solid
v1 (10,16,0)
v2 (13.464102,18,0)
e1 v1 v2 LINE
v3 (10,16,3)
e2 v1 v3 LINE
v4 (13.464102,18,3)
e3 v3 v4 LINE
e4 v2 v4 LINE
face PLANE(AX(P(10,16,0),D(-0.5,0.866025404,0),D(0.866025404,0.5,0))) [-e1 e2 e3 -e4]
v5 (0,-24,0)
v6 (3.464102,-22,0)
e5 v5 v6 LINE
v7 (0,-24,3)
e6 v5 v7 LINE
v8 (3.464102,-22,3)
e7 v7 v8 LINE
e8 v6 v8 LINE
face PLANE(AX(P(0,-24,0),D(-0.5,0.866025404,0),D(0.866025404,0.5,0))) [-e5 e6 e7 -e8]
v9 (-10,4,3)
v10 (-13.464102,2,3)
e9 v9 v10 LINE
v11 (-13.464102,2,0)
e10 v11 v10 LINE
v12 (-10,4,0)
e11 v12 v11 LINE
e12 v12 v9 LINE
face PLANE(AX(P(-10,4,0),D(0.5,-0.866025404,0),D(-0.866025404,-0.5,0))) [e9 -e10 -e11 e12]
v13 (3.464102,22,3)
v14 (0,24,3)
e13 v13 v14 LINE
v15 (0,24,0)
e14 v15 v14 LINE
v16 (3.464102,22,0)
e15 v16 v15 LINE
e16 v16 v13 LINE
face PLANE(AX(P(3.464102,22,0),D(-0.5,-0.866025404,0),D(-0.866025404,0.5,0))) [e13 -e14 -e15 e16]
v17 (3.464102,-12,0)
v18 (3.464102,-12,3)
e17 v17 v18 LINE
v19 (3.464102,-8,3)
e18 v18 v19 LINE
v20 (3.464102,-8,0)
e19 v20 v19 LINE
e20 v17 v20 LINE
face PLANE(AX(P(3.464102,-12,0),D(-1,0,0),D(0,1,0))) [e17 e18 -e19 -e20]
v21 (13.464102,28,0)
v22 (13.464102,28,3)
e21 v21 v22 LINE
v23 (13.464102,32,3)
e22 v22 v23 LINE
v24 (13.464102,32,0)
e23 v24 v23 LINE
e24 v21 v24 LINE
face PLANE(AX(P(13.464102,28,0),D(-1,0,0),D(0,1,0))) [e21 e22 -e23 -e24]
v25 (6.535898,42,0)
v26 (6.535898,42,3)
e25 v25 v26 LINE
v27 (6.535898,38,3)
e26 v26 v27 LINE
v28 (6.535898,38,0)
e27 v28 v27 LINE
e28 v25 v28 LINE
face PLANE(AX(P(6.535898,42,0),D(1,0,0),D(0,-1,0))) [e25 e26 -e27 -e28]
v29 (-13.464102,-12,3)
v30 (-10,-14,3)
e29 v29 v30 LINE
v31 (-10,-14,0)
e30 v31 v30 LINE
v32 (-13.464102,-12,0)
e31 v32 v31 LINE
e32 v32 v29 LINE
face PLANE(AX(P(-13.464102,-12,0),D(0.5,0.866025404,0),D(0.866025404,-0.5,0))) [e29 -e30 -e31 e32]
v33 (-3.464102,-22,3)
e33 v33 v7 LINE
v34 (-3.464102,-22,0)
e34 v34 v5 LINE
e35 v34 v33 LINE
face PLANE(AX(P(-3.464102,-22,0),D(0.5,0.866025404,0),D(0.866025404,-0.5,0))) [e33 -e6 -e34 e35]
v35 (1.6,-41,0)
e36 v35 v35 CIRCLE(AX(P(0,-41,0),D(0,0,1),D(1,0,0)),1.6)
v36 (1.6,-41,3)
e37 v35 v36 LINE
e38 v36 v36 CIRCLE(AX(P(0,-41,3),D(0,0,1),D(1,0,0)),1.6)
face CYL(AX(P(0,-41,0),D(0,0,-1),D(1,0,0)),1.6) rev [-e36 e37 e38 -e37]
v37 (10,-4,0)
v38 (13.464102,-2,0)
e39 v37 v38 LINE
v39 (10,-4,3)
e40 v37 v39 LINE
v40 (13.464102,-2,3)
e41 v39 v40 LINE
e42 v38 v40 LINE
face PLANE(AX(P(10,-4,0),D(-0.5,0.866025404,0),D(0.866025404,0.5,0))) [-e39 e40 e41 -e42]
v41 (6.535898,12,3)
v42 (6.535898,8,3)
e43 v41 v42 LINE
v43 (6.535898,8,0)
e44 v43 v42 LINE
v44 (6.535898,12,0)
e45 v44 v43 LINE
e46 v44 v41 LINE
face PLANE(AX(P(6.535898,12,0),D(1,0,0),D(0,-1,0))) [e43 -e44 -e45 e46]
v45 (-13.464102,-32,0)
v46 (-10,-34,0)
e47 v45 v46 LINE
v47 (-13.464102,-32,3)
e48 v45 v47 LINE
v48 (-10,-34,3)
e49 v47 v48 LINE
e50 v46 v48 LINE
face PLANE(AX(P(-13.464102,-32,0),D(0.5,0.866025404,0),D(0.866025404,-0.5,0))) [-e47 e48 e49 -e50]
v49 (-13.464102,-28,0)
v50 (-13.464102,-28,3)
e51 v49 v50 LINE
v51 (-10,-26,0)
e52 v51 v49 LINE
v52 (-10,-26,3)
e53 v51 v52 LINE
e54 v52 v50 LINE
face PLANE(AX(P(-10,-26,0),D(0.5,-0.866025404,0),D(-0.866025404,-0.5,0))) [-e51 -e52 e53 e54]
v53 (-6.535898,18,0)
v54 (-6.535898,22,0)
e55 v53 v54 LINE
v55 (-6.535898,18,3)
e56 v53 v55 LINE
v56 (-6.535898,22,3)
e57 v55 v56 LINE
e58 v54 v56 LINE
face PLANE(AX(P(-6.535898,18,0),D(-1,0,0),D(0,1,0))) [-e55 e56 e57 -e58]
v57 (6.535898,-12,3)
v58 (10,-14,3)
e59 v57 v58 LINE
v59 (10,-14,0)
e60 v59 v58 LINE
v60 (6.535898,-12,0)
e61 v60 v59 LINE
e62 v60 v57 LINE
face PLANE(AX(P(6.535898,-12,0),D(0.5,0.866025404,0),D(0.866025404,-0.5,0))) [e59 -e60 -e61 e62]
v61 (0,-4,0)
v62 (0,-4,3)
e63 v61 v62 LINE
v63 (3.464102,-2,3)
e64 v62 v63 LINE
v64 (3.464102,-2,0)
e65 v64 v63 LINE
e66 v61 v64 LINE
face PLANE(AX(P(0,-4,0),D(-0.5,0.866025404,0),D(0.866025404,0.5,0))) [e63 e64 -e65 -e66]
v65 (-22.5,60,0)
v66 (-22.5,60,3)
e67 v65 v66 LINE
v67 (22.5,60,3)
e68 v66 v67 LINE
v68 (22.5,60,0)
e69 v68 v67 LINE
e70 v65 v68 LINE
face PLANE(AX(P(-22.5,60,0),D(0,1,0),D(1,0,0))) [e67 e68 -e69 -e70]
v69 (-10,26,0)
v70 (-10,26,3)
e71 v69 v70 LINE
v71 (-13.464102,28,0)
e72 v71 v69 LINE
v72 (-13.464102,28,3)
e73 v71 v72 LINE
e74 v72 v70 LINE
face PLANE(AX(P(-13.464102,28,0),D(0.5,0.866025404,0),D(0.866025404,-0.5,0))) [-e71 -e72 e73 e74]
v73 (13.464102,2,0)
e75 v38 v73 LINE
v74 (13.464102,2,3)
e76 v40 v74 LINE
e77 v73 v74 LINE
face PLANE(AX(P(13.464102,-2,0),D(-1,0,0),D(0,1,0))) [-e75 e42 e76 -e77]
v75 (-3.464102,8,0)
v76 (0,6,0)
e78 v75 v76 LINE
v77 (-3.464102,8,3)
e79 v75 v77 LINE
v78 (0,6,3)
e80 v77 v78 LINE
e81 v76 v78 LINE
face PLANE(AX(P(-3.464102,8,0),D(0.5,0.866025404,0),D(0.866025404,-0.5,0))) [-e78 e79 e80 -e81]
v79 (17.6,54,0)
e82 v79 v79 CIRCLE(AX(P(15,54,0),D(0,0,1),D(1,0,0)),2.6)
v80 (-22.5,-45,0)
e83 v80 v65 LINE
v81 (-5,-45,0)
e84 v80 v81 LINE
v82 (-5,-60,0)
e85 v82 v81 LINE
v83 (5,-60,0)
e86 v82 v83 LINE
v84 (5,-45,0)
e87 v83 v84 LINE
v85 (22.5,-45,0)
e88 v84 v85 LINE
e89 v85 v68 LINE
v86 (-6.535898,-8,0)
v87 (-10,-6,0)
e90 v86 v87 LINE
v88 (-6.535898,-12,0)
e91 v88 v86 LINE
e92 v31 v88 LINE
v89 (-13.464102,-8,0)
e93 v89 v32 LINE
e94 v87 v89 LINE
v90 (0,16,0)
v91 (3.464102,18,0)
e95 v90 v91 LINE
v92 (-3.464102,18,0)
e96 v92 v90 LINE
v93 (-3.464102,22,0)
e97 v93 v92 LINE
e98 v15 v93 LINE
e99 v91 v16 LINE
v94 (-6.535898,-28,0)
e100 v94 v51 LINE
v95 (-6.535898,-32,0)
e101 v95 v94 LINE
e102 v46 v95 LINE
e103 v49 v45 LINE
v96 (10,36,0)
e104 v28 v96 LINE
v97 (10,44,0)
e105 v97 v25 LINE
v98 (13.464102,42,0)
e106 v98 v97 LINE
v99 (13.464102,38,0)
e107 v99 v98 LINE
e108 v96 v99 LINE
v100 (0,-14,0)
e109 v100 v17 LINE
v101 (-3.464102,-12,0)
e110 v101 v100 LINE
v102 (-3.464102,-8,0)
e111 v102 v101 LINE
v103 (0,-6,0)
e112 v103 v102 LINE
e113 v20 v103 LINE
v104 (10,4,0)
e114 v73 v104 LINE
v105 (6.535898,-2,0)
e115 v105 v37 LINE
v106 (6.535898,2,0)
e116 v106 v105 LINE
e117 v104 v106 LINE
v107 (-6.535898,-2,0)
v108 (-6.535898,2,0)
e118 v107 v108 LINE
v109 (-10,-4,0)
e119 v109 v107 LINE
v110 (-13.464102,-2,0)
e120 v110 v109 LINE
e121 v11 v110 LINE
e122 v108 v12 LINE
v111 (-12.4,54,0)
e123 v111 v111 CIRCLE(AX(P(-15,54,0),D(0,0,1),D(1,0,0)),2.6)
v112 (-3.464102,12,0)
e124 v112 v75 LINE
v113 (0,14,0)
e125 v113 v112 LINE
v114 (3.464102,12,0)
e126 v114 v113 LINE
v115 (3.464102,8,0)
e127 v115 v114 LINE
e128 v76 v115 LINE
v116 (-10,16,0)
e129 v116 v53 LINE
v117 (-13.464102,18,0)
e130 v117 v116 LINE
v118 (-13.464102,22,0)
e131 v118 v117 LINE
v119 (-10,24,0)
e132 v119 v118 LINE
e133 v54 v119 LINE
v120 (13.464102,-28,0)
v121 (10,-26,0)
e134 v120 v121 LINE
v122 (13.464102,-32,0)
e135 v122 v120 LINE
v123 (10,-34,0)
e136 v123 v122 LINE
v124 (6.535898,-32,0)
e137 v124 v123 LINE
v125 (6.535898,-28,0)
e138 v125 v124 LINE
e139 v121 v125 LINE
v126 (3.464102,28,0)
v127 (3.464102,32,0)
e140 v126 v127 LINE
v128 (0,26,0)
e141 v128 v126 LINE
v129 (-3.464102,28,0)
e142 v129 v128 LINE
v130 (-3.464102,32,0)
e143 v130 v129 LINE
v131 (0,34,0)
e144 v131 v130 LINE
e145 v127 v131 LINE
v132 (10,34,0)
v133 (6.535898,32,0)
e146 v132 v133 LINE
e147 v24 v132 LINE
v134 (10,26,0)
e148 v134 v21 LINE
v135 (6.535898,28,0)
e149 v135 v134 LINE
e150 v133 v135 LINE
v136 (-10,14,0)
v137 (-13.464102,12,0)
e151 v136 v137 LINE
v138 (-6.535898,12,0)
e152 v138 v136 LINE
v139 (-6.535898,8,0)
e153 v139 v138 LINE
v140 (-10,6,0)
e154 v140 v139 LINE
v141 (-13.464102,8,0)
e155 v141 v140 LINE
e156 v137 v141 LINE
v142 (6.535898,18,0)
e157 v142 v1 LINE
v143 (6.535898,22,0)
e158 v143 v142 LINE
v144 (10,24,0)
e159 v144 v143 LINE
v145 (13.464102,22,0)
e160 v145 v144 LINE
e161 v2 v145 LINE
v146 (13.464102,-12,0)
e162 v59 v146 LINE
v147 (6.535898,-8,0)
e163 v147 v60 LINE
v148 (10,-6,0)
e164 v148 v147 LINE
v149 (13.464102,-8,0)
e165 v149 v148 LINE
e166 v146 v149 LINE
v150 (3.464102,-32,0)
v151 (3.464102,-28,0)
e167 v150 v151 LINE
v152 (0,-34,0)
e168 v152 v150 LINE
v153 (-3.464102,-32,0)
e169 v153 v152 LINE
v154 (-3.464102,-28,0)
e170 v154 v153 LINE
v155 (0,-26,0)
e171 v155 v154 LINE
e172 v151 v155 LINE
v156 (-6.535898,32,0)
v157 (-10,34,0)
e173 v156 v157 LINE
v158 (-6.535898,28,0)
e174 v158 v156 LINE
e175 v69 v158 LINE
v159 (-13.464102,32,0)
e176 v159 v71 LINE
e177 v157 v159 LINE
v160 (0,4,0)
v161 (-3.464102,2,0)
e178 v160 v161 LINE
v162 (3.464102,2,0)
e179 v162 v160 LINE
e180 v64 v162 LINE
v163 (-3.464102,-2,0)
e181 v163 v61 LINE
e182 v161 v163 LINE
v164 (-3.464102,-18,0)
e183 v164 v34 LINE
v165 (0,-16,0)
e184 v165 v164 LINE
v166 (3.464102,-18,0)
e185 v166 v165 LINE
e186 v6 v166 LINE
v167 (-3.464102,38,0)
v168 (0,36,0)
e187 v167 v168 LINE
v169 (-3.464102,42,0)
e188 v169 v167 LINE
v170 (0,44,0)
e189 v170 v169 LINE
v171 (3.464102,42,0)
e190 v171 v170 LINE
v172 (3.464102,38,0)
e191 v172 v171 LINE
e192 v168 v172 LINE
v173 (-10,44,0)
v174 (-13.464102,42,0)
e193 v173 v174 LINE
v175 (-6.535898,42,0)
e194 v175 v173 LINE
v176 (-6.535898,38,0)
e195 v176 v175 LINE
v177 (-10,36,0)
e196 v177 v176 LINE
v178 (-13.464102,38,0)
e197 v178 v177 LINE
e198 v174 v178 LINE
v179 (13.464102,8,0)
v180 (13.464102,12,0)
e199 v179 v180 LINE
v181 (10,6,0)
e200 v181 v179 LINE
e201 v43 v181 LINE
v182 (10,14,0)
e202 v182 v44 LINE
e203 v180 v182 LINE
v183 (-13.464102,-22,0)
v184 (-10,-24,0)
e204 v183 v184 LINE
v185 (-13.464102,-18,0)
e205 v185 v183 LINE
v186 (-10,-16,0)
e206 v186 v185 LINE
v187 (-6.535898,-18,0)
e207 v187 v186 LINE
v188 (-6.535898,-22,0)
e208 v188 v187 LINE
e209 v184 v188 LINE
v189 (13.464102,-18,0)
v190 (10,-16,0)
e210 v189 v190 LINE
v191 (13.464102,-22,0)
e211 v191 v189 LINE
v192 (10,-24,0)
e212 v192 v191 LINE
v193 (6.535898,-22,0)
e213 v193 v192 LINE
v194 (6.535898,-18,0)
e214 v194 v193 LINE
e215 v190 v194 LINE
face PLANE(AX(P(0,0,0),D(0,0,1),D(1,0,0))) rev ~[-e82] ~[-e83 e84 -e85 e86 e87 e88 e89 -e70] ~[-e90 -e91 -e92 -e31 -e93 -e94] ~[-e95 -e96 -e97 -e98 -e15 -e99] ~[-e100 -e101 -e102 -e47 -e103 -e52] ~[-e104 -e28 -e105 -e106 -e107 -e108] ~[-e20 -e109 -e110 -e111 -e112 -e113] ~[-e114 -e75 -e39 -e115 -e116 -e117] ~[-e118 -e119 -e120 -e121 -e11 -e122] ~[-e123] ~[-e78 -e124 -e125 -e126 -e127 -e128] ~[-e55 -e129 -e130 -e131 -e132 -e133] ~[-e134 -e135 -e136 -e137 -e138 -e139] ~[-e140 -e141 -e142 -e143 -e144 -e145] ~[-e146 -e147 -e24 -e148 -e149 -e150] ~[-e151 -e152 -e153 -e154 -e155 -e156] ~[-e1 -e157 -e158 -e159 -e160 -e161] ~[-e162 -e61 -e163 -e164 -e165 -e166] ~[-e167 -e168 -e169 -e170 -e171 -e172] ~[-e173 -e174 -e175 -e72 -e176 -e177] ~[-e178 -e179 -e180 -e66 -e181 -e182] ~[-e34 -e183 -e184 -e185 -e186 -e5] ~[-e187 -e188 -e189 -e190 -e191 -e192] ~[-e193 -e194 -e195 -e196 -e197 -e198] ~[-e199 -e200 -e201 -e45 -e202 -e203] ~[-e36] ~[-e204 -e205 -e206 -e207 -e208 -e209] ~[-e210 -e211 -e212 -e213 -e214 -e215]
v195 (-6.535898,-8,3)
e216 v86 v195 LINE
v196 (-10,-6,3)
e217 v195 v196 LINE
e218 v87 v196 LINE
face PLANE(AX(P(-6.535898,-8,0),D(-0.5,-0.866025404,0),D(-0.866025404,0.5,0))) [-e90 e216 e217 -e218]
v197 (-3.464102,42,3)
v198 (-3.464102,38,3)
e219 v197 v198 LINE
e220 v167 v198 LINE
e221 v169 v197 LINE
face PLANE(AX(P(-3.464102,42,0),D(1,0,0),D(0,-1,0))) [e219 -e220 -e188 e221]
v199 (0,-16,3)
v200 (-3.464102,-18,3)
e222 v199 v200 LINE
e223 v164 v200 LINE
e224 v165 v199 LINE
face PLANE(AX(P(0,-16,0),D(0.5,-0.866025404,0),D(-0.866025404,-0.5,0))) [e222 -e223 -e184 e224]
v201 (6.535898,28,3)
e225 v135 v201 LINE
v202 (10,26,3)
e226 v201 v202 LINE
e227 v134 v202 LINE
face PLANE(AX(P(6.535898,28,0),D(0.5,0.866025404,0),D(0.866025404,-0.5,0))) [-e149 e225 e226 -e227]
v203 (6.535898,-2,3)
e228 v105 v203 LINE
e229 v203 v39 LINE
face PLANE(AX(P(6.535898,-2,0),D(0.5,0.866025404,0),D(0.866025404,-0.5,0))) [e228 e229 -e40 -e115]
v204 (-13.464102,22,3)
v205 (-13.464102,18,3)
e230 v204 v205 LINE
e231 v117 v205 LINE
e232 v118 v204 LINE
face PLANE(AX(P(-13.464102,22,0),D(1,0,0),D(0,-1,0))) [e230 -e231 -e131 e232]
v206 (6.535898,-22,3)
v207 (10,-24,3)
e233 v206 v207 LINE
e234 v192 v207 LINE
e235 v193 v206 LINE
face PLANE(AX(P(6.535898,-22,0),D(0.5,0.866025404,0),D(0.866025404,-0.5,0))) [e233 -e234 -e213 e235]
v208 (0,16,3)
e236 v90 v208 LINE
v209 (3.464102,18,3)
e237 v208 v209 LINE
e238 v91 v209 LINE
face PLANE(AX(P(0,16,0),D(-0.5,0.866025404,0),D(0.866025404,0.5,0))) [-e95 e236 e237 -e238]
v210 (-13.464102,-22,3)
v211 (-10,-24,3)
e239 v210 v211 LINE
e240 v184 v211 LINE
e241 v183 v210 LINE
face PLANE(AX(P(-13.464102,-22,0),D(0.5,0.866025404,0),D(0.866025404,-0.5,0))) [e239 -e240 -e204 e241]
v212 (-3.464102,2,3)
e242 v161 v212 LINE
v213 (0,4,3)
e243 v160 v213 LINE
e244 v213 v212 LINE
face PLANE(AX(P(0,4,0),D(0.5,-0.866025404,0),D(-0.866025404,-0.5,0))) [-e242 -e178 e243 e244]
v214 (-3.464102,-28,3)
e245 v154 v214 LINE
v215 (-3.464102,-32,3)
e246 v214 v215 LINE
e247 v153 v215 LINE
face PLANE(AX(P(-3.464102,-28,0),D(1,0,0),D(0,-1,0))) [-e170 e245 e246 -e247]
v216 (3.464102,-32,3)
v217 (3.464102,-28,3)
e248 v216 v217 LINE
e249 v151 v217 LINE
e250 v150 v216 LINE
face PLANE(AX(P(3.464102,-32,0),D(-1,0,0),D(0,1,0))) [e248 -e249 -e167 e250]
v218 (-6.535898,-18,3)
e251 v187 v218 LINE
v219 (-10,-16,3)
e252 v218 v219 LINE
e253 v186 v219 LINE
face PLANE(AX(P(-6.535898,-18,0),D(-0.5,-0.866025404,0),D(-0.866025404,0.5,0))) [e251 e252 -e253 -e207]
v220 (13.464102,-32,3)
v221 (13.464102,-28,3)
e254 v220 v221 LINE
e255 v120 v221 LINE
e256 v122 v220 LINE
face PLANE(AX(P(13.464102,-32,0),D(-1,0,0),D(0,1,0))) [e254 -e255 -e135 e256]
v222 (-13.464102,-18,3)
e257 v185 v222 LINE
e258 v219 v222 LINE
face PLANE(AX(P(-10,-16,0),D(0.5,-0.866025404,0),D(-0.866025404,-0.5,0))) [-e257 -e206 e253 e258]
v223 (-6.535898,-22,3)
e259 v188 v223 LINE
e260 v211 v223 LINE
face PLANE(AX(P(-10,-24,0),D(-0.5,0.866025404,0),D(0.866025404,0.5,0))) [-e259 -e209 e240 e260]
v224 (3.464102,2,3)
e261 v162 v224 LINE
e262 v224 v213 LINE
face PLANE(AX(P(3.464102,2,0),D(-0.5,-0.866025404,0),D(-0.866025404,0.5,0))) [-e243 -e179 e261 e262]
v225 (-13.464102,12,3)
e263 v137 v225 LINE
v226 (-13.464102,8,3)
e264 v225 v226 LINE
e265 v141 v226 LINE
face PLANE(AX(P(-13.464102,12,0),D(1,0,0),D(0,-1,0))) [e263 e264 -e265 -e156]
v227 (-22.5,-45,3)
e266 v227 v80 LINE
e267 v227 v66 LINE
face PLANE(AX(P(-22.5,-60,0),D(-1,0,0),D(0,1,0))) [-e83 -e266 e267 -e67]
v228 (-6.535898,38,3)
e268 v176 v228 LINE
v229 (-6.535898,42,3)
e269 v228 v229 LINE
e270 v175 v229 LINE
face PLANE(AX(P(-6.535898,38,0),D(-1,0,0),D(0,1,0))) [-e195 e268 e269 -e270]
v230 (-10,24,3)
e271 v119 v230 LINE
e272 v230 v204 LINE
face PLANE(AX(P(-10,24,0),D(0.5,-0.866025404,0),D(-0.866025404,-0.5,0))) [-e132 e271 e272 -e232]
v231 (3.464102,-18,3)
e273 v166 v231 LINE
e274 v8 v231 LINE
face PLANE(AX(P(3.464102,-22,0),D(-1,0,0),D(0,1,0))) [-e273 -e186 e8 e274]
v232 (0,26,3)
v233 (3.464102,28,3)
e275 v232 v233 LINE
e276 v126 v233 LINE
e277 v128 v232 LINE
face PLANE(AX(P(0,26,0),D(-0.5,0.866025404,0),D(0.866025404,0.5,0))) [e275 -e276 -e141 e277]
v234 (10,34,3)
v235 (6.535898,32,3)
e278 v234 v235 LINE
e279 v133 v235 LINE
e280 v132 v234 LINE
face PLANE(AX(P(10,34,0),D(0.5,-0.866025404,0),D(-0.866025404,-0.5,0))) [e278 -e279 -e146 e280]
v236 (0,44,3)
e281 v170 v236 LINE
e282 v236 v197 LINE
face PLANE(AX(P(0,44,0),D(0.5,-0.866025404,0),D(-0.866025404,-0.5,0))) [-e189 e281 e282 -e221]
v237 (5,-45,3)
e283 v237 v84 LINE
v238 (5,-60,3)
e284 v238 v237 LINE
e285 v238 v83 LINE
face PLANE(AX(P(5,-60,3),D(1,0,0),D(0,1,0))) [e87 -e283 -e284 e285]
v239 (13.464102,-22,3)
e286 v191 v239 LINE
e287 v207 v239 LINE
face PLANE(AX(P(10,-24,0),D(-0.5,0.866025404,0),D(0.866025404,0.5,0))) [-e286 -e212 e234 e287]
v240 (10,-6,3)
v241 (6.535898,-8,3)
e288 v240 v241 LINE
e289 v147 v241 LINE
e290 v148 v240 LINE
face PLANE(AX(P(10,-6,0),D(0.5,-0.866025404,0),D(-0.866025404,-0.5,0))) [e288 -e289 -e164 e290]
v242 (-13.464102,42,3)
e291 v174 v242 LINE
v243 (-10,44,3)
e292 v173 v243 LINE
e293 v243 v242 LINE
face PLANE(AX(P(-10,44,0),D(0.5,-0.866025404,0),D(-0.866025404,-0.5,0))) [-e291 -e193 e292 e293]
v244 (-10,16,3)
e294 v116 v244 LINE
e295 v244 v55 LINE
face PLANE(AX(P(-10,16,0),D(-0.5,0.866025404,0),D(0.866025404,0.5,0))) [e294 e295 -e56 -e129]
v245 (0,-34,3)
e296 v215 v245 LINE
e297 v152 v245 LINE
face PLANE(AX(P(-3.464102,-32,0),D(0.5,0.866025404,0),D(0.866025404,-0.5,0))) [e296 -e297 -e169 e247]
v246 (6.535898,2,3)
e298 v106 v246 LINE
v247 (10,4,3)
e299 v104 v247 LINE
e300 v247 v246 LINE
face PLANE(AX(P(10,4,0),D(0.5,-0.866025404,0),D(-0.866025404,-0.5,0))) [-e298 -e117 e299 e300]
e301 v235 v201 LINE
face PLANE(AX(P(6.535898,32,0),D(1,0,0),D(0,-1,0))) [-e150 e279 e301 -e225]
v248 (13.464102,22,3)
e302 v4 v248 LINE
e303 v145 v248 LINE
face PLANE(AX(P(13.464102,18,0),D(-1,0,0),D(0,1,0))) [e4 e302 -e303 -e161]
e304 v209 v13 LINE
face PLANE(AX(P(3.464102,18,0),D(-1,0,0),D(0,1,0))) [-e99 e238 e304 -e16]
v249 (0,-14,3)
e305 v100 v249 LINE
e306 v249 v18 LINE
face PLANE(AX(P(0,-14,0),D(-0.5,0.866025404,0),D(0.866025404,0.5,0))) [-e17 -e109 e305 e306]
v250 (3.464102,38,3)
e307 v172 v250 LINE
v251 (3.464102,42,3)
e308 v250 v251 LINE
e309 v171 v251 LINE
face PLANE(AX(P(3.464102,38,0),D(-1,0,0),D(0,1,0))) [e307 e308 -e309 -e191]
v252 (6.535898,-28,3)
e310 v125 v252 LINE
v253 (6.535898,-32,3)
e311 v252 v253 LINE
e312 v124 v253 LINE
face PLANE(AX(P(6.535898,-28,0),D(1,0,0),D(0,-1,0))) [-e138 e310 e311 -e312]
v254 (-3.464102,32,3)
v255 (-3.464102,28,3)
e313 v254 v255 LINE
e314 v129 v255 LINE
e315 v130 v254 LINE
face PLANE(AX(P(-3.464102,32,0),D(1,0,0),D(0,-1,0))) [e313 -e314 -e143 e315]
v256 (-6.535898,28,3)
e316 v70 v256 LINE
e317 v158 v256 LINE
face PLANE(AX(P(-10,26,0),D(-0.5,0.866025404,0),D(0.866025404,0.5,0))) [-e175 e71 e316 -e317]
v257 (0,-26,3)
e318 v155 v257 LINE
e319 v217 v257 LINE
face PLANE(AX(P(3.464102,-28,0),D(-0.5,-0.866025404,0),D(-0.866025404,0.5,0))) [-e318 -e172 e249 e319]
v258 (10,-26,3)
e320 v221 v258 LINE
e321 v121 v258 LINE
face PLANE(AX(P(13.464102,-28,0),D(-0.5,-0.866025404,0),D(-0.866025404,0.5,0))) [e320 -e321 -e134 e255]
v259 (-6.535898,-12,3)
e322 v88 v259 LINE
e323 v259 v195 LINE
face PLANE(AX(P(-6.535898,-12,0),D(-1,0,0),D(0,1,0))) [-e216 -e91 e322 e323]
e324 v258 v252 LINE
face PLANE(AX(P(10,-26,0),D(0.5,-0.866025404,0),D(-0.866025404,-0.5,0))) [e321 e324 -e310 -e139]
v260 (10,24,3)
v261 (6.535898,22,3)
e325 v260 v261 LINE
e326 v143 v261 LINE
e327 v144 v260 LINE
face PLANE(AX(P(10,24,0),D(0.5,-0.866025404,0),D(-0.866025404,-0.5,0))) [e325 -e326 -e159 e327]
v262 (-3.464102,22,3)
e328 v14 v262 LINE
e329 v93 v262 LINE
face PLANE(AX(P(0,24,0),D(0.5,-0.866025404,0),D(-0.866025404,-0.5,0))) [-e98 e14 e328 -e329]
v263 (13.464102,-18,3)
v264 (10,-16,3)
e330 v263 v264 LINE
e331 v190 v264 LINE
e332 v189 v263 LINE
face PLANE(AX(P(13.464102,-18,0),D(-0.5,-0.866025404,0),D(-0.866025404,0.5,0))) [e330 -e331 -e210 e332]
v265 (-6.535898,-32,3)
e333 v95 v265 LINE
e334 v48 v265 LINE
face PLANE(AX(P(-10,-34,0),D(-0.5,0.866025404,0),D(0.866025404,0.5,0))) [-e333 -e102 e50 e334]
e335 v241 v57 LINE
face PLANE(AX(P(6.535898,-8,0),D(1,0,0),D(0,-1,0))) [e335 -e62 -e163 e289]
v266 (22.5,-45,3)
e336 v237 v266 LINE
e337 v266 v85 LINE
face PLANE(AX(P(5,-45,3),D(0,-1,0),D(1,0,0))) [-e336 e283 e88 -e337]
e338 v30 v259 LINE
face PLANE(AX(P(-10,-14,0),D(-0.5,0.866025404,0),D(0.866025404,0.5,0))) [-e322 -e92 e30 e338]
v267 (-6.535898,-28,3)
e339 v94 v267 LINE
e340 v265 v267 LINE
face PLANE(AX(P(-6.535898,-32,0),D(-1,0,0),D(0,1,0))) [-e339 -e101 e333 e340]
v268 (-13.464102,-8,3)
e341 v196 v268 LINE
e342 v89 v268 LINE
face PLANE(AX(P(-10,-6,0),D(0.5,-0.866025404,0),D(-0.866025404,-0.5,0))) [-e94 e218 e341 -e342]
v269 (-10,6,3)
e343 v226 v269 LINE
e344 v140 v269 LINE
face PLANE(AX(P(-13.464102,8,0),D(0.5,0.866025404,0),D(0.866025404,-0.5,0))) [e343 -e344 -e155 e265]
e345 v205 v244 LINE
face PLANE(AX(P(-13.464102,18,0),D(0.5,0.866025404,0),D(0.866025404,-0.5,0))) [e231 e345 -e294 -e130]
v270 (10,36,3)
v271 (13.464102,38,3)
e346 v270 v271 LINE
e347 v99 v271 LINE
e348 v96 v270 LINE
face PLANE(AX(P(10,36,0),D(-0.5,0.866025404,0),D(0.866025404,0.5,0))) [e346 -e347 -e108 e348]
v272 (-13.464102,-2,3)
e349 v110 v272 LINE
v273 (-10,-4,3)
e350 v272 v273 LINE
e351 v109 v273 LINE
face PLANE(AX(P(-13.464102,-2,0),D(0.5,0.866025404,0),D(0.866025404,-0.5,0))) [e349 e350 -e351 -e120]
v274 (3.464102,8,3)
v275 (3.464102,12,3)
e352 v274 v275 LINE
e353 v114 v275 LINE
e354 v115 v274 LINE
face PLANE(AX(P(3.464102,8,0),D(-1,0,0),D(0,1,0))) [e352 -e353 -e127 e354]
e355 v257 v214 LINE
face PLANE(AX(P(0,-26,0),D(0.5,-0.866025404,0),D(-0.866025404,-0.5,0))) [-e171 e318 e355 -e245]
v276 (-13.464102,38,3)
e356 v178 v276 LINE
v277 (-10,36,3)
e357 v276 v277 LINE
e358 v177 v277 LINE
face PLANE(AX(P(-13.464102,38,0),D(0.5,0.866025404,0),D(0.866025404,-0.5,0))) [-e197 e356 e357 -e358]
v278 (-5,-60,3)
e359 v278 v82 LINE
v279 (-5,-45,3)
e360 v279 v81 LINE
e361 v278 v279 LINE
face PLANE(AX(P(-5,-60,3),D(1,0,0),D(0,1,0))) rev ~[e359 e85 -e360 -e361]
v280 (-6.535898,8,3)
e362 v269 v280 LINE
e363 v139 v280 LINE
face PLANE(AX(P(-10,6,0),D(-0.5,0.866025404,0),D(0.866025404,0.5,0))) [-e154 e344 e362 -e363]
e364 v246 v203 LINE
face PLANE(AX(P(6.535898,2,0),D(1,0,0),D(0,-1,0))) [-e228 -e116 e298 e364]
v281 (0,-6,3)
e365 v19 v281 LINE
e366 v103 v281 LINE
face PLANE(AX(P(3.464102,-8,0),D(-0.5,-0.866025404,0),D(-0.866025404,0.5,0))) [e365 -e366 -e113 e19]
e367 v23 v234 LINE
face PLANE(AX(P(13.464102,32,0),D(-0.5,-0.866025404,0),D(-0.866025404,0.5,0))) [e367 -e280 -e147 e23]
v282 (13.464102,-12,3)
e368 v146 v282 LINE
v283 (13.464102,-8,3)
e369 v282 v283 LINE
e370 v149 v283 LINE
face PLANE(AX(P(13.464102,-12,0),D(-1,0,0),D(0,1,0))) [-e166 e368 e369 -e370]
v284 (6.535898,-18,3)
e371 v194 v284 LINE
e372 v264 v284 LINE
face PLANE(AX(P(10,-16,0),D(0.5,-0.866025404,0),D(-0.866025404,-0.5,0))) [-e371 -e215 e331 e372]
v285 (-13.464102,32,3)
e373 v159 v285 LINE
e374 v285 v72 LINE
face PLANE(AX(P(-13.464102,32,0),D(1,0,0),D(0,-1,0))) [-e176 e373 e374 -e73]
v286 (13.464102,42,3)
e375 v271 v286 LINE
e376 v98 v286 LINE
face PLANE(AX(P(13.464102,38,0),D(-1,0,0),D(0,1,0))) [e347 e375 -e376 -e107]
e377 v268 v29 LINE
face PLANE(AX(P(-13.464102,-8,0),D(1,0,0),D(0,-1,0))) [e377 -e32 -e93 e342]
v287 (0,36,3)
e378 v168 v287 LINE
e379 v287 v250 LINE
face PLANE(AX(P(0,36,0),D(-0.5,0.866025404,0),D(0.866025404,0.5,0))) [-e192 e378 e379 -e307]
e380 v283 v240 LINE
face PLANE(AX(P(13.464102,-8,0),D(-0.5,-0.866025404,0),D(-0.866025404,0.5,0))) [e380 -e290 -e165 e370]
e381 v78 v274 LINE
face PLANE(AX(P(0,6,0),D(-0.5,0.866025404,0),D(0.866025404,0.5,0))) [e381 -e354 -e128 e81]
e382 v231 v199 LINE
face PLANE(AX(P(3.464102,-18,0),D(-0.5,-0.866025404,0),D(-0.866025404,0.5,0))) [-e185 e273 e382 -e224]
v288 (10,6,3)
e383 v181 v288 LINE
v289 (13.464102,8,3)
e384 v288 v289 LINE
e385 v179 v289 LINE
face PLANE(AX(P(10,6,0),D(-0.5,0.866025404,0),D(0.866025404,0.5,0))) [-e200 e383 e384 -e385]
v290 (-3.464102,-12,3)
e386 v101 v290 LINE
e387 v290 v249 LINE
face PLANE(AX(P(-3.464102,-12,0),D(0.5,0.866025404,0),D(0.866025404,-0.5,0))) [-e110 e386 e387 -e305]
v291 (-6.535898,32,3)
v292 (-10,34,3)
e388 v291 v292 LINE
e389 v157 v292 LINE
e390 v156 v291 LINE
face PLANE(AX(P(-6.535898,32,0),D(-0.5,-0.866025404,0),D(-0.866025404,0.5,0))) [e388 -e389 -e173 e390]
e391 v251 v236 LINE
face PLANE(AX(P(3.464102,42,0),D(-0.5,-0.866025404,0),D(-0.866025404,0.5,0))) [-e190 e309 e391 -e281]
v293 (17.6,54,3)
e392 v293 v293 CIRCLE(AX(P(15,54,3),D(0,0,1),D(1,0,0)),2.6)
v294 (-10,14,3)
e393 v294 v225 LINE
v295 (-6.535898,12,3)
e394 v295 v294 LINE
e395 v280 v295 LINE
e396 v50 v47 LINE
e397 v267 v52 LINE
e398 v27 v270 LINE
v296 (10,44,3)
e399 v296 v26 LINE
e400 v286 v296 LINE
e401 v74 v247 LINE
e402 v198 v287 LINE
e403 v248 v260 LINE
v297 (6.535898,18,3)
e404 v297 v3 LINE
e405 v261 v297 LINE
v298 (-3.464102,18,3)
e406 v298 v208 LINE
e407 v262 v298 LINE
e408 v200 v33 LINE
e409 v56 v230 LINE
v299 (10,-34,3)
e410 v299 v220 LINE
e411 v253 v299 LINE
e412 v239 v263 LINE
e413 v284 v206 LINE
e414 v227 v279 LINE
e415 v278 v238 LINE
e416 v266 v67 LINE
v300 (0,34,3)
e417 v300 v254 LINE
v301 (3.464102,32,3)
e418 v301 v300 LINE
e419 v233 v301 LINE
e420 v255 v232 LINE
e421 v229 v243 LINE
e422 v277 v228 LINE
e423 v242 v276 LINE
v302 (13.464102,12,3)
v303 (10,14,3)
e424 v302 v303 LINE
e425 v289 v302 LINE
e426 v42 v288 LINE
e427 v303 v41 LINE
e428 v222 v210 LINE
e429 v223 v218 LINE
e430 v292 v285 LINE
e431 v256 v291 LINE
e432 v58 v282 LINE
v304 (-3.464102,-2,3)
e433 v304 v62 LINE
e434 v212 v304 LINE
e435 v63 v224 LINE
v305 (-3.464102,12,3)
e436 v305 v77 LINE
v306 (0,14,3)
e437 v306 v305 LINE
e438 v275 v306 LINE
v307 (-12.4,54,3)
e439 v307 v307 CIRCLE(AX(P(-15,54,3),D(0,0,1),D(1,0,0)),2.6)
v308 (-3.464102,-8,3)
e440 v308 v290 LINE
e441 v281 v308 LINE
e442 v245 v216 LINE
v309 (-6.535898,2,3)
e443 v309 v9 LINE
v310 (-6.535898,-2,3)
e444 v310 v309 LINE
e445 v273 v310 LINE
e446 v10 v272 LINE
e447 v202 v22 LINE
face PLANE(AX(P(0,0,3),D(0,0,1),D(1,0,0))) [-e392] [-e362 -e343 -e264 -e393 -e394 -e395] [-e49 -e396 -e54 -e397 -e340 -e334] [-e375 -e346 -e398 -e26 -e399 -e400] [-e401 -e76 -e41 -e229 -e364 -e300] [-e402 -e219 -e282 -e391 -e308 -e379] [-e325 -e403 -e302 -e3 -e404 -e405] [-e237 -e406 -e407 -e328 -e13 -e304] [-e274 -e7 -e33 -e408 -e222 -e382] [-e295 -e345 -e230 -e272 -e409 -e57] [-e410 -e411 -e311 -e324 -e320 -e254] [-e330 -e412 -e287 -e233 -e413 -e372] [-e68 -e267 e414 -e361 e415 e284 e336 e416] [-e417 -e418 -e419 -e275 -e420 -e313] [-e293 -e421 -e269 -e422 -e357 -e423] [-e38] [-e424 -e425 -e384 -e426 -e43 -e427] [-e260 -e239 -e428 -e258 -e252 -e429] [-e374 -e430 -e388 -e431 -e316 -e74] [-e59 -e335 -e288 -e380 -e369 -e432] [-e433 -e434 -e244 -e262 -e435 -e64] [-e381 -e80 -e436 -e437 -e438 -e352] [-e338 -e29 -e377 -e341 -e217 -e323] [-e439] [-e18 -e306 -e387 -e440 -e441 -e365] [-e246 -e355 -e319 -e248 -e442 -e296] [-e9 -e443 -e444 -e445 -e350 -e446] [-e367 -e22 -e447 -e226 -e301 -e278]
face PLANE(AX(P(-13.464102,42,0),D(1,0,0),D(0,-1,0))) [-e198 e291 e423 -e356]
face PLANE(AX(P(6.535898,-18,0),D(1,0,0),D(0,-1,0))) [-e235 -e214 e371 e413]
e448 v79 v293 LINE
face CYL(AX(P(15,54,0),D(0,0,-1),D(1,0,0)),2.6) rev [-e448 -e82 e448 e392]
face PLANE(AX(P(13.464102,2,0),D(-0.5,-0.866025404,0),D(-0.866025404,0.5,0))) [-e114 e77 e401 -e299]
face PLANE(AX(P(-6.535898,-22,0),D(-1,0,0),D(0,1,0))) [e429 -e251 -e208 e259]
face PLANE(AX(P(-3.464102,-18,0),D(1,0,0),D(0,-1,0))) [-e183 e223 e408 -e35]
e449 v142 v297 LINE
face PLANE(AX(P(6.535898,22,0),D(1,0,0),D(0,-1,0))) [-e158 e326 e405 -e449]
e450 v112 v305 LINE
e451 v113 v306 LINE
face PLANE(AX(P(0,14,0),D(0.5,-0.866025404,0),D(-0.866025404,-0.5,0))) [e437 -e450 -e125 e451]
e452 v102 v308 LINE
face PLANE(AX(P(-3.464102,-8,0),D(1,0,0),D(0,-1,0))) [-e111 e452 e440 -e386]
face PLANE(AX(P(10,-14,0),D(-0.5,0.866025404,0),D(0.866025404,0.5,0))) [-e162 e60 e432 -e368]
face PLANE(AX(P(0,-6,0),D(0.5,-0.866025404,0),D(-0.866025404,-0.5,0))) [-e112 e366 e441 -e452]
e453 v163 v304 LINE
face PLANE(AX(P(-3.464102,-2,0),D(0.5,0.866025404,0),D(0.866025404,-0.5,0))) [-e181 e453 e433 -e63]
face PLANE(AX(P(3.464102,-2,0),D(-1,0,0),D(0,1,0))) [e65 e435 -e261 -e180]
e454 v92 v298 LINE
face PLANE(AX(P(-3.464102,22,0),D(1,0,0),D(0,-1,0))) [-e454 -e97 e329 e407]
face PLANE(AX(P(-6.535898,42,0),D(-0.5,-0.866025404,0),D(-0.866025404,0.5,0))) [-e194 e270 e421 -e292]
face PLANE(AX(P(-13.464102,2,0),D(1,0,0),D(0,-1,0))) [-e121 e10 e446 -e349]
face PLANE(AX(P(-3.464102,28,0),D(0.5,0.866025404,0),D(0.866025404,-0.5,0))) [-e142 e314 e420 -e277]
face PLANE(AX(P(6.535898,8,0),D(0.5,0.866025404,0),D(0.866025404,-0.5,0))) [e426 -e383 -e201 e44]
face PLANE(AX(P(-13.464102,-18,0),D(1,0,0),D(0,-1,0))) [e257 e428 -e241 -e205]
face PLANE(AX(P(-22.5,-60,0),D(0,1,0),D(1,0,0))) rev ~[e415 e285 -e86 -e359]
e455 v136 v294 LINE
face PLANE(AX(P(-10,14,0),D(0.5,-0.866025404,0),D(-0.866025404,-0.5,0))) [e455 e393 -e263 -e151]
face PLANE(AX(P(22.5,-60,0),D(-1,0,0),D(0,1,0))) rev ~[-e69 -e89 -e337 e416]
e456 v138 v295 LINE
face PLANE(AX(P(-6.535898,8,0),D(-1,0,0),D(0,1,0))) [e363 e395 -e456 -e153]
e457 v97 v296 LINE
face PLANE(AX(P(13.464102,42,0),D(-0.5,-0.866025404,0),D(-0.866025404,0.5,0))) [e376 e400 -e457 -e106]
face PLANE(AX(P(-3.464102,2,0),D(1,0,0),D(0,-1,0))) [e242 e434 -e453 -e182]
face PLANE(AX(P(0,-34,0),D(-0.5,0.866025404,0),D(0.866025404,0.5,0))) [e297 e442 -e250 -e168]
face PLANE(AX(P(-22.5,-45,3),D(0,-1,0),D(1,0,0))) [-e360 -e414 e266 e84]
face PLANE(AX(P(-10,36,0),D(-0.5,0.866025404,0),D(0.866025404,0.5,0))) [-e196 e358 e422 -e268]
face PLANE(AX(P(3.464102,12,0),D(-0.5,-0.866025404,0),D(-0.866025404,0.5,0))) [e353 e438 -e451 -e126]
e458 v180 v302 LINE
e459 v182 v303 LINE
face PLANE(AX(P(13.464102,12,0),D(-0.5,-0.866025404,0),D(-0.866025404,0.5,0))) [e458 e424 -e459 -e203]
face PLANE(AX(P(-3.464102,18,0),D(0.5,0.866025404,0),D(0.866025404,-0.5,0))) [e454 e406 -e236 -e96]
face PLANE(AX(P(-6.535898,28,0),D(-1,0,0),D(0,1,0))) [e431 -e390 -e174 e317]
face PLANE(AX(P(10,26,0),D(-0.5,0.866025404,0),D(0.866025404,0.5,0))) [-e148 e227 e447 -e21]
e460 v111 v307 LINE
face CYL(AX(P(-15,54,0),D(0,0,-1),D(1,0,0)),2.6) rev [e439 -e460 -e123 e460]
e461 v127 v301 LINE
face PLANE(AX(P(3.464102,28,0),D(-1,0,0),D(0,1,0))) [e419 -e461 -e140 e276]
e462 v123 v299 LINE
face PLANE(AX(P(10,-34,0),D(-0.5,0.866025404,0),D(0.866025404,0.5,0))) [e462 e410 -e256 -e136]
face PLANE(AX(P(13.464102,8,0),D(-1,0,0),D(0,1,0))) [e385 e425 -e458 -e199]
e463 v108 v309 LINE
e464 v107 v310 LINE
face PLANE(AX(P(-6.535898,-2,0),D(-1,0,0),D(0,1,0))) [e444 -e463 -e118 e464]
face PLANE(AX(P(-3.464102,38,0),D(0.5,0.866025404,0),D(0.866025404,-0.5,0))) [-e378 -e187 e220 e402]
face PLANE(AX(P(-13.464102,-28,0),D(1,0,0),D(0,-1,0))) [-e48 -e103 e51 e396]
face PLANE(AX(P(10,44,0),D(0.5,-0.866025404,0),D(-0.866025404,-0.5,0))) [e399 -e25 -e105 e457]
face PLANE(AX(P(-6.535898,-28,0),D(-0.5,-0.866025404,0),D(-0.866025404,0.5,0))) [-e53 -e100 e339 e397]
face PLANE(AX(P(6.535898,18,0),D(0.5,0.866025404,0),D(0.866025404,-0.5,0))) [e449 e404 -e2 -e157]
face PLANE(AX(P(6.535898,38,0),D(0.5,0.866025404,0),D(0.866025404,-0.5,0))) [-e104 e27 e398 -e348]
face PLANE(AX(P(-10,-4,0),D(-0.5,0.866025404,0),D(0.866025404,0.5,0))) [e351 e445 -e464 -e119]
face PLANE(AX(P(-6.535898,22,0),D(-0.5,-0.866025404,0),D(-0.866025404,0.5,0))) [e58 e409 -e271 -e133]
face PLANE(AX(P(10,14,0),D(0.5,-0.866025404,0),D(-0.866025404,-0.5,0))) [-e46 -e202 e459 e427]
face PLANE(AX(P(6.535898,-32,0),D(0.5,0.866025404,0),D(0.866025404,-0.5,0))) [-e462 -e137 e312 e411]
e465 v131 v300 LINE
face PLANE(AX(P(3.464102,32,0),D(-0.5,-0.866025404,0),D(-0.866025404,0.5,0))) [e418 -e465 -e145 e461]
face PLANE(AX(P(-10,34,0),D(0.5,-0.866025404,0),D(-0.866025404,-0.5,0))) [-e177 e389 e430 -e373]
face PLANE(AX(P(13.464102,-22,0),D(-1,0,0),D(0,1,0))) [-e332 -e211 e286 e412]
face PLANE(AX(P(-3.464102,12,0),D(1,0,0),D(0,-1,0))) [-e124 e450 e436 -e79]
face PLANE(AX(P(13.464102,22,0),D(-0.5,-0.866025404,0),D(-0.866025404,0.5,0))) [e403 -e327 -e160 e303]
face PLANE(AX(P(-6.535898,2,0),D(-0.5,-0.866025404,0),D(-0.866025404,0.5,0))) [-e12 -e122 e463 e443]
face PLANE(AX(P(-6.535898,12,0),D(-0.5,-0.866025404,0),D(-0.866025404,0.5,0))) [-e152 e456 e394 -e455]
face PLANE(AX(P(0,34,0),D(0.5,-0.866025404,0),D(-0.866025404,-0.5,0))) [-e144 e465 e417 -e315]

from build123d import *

# Parameters (mm, degrees)
SKETCH_2_W          = 45
SKETCH_2_H          = 120
SKETCH_2_R          = 2.6
SKETCH_2_R_2        = 1.6
EXTRUDE_1_DEPTH     = 3
SKETCH_3_W          = 17.5
SKETCH_3_H          = 15
CUT_EXTRUDE_1_DEPTH = 3


with BuildPart() as part:
    # 草图2 → 凸台-拉伸1 (new body)
    with BuildSketch(Plane.XY):
        Rectangle(SKETCH_2_W, SKETCH_2_H)
        with Locations((-15, 54)):
            Circle(SKETCH_2_R, mode=Mode.SUBTRACT)
        with Locations((15, 54)):
            Circle(SKETCH_2_R, mode=Mode.SUBTRACT)
        with Locations((0, -41)):
            Circle(SKETCH_2_R_2, mode=Mode.SUBTRACT)
        Polygon((10, 4), (6.535898385, 2), (6.535898385, -2), (10, -4), (13.464101615, -2), (13.464101615, 2), align=None, mode=Mode.SUBTRACT)
        Polygon((0, 4), (-3.464101615, 2), (-3.464101615, -2), (0, -4), (3.464101615, -2), (3.464101615, 2), align=None, mode=Mode.SUBTRACT)
        Polygon((-10, 4), (-13.464101615, 2), (-13.464101615, -2), (-10, -4), (-6.535898385, -2), (-6.535898385, 2), align=None, mode=Mode.SUBTRACT)
        Polygon((10, 14), (6.535898385, 12), (6.535898385, 8), (10, 6), (13.464101615, 8), (13.464101615, 12), align=None, mode=Mode.SUBTRACT)
        Polygon((0, 14), (-3.464101615, 12), (-3.464101615, 8), (0, 6), (3.464101615, 8), (3.464101615, 12), align=None, mode=Mode.SUBTRACT)
        Polygon((-10, 14), (-13.464101615, 12), (-13.464101615, 8), (-10, 6), (-6.535898385, 8), (-6.535898385, 12), align=None, mode=Mode.SUBTRACT)
        Polygon((10, 24), (6.535898385, 22), (6.535898385, 18), (10, 16), (13.464101615, 18), (13.464101615, 22), align=None, mode=Mode.SUBTRACT)
        Polygon((0, 24), (-3.464101615, 22), (-3.464101615, 18), (0, 16), (3.464101615, 18), (3.464101615, 22), align=None, mode=Mode.SUBTRACT)
        Polygon((-10, 24), (-13.464101615, 22), (-13.464101615, 18), (-10, 16), (-6.535898385, 18), (-6.535898385, 22), align=None, mode=Mode.SUBTRACT)
        Polygon((10, 34), (6.535898385, 32), (6.535898385, 28), (10, 26), (13.464101615, 28), (13.464101615, 32), align=None, mode=Mode.SUBTRACT)
        Polygon((0, 34), (-3.464101615, 32), (-3.464101615, 28), (0, 26), (3.464101615, 28), (3.464101615, 32), align=None, mode=Mode.SUBTRACT)
        Polygon((-10, 34), (-13.464101615, 32), (-13.464101615, 28), (-10, 26), (-6.535898385, 28), (-6.535898385, 32), align=None, mode=Mode.SUBTRACT)
        Polygon((10, 44), (6.535898385, 42), (6.535898385, 38), (10, 36), (13.464101615, 38), (13.464101615, 42), align=None, mode=Mode.SUBTRACT)
        Polygon((0, 44), (-3.464101615, 42), (-3.464101615, 38), (0, 36), (3.464101615, 38), (3.464101615, 42), align=None, mode=Mode.SUBTRACT)
        Polygon((-10, 44), (-13.464101615, 42), (-13.464101615, 38), (-10, 36), (-6.535898385, 38), (-6.535898385, 42), align=None, mode=Mode.SUBTRACT)
        Polygon((-10, -6), (-13.464101615, -8), (-13.464101615, -12), (-10, -14), (-6.535898385, -12), (-6.535898385, -8), align=None, mode=Mode.SUBTRACT)
        Polygon((0, -6), (-3.464101615, -8), (-3.464101615, -12), (0, -14), (3.464101615, -12), (3.464101615, -8), align=None, mode=Mode.SUBTRACT)
        Polygon((10, -6), (6.535898385, -8), (6.535898385, -12), (10, -14), (13.464101615, -12), (13.464101615, -8), align=None, mode=Mode.SUBTRACT)
        Polygon((-10, -16), (-13.464101615, -18), (-13.464101615, -22), (-10, -24), (-6.535898385, -22), (-6.535898385, -18), align=None, mode=Mode.SUBTRACT)
        Polygon((0, -16), (-3.464101615, -18), (-3.464101615, -22), (0, -24), (3.464101615, -22), (3.464101615, -18), align=None, mode=Mode.SUBTRACT)
        Polygon((10, -16), (6.535898385, -18), (6.535898385, -22), (10, -24), (13.464101615, -22), (13.464101615, -18), align=None, mode=Mode.SUBTRACT)
        Polygon((-10, -26), (-13.464101615, -28), (-13.464101615, -32), (-10, -34), (-6.535898385, -32), (-6.535898385, -28), align=None, mode=Mode.SUBTRACT)
        Polygon((0, -26), (-3.464101615, -28), (-3.464101615, -32), (0, -34), (3.464101615, -32), (3.464101615, -28), align=None, mode=Mode.SUBTRACT)
        Polygon((10, -26), (6.535898385, -28), (6.535898385, -32), (10, -34), (13.464101615, -32), (13.464101615, -28), align=None, mode=Mode.SUBTRACT)
    extrude(amount=EXTRUDE_1_DEPTH)

    # 草图3 → 切除-拉伸1 (cut)
    with BuildSketch(Plane.XY.offset(3)):
        with Locations((-13.75, -52.5)):
            Rectangle(SKETCH_3_W, SKETCH_3_H)
        with Locations((13.75, -52.5)):
            Rectangle(SKETCH_3_W, SKETCH_3_H)
    extrude(amount=-CUT_EXTRUDE_1_DEPTH, mode=Mode.SUBTRACT)


solid = part.part
